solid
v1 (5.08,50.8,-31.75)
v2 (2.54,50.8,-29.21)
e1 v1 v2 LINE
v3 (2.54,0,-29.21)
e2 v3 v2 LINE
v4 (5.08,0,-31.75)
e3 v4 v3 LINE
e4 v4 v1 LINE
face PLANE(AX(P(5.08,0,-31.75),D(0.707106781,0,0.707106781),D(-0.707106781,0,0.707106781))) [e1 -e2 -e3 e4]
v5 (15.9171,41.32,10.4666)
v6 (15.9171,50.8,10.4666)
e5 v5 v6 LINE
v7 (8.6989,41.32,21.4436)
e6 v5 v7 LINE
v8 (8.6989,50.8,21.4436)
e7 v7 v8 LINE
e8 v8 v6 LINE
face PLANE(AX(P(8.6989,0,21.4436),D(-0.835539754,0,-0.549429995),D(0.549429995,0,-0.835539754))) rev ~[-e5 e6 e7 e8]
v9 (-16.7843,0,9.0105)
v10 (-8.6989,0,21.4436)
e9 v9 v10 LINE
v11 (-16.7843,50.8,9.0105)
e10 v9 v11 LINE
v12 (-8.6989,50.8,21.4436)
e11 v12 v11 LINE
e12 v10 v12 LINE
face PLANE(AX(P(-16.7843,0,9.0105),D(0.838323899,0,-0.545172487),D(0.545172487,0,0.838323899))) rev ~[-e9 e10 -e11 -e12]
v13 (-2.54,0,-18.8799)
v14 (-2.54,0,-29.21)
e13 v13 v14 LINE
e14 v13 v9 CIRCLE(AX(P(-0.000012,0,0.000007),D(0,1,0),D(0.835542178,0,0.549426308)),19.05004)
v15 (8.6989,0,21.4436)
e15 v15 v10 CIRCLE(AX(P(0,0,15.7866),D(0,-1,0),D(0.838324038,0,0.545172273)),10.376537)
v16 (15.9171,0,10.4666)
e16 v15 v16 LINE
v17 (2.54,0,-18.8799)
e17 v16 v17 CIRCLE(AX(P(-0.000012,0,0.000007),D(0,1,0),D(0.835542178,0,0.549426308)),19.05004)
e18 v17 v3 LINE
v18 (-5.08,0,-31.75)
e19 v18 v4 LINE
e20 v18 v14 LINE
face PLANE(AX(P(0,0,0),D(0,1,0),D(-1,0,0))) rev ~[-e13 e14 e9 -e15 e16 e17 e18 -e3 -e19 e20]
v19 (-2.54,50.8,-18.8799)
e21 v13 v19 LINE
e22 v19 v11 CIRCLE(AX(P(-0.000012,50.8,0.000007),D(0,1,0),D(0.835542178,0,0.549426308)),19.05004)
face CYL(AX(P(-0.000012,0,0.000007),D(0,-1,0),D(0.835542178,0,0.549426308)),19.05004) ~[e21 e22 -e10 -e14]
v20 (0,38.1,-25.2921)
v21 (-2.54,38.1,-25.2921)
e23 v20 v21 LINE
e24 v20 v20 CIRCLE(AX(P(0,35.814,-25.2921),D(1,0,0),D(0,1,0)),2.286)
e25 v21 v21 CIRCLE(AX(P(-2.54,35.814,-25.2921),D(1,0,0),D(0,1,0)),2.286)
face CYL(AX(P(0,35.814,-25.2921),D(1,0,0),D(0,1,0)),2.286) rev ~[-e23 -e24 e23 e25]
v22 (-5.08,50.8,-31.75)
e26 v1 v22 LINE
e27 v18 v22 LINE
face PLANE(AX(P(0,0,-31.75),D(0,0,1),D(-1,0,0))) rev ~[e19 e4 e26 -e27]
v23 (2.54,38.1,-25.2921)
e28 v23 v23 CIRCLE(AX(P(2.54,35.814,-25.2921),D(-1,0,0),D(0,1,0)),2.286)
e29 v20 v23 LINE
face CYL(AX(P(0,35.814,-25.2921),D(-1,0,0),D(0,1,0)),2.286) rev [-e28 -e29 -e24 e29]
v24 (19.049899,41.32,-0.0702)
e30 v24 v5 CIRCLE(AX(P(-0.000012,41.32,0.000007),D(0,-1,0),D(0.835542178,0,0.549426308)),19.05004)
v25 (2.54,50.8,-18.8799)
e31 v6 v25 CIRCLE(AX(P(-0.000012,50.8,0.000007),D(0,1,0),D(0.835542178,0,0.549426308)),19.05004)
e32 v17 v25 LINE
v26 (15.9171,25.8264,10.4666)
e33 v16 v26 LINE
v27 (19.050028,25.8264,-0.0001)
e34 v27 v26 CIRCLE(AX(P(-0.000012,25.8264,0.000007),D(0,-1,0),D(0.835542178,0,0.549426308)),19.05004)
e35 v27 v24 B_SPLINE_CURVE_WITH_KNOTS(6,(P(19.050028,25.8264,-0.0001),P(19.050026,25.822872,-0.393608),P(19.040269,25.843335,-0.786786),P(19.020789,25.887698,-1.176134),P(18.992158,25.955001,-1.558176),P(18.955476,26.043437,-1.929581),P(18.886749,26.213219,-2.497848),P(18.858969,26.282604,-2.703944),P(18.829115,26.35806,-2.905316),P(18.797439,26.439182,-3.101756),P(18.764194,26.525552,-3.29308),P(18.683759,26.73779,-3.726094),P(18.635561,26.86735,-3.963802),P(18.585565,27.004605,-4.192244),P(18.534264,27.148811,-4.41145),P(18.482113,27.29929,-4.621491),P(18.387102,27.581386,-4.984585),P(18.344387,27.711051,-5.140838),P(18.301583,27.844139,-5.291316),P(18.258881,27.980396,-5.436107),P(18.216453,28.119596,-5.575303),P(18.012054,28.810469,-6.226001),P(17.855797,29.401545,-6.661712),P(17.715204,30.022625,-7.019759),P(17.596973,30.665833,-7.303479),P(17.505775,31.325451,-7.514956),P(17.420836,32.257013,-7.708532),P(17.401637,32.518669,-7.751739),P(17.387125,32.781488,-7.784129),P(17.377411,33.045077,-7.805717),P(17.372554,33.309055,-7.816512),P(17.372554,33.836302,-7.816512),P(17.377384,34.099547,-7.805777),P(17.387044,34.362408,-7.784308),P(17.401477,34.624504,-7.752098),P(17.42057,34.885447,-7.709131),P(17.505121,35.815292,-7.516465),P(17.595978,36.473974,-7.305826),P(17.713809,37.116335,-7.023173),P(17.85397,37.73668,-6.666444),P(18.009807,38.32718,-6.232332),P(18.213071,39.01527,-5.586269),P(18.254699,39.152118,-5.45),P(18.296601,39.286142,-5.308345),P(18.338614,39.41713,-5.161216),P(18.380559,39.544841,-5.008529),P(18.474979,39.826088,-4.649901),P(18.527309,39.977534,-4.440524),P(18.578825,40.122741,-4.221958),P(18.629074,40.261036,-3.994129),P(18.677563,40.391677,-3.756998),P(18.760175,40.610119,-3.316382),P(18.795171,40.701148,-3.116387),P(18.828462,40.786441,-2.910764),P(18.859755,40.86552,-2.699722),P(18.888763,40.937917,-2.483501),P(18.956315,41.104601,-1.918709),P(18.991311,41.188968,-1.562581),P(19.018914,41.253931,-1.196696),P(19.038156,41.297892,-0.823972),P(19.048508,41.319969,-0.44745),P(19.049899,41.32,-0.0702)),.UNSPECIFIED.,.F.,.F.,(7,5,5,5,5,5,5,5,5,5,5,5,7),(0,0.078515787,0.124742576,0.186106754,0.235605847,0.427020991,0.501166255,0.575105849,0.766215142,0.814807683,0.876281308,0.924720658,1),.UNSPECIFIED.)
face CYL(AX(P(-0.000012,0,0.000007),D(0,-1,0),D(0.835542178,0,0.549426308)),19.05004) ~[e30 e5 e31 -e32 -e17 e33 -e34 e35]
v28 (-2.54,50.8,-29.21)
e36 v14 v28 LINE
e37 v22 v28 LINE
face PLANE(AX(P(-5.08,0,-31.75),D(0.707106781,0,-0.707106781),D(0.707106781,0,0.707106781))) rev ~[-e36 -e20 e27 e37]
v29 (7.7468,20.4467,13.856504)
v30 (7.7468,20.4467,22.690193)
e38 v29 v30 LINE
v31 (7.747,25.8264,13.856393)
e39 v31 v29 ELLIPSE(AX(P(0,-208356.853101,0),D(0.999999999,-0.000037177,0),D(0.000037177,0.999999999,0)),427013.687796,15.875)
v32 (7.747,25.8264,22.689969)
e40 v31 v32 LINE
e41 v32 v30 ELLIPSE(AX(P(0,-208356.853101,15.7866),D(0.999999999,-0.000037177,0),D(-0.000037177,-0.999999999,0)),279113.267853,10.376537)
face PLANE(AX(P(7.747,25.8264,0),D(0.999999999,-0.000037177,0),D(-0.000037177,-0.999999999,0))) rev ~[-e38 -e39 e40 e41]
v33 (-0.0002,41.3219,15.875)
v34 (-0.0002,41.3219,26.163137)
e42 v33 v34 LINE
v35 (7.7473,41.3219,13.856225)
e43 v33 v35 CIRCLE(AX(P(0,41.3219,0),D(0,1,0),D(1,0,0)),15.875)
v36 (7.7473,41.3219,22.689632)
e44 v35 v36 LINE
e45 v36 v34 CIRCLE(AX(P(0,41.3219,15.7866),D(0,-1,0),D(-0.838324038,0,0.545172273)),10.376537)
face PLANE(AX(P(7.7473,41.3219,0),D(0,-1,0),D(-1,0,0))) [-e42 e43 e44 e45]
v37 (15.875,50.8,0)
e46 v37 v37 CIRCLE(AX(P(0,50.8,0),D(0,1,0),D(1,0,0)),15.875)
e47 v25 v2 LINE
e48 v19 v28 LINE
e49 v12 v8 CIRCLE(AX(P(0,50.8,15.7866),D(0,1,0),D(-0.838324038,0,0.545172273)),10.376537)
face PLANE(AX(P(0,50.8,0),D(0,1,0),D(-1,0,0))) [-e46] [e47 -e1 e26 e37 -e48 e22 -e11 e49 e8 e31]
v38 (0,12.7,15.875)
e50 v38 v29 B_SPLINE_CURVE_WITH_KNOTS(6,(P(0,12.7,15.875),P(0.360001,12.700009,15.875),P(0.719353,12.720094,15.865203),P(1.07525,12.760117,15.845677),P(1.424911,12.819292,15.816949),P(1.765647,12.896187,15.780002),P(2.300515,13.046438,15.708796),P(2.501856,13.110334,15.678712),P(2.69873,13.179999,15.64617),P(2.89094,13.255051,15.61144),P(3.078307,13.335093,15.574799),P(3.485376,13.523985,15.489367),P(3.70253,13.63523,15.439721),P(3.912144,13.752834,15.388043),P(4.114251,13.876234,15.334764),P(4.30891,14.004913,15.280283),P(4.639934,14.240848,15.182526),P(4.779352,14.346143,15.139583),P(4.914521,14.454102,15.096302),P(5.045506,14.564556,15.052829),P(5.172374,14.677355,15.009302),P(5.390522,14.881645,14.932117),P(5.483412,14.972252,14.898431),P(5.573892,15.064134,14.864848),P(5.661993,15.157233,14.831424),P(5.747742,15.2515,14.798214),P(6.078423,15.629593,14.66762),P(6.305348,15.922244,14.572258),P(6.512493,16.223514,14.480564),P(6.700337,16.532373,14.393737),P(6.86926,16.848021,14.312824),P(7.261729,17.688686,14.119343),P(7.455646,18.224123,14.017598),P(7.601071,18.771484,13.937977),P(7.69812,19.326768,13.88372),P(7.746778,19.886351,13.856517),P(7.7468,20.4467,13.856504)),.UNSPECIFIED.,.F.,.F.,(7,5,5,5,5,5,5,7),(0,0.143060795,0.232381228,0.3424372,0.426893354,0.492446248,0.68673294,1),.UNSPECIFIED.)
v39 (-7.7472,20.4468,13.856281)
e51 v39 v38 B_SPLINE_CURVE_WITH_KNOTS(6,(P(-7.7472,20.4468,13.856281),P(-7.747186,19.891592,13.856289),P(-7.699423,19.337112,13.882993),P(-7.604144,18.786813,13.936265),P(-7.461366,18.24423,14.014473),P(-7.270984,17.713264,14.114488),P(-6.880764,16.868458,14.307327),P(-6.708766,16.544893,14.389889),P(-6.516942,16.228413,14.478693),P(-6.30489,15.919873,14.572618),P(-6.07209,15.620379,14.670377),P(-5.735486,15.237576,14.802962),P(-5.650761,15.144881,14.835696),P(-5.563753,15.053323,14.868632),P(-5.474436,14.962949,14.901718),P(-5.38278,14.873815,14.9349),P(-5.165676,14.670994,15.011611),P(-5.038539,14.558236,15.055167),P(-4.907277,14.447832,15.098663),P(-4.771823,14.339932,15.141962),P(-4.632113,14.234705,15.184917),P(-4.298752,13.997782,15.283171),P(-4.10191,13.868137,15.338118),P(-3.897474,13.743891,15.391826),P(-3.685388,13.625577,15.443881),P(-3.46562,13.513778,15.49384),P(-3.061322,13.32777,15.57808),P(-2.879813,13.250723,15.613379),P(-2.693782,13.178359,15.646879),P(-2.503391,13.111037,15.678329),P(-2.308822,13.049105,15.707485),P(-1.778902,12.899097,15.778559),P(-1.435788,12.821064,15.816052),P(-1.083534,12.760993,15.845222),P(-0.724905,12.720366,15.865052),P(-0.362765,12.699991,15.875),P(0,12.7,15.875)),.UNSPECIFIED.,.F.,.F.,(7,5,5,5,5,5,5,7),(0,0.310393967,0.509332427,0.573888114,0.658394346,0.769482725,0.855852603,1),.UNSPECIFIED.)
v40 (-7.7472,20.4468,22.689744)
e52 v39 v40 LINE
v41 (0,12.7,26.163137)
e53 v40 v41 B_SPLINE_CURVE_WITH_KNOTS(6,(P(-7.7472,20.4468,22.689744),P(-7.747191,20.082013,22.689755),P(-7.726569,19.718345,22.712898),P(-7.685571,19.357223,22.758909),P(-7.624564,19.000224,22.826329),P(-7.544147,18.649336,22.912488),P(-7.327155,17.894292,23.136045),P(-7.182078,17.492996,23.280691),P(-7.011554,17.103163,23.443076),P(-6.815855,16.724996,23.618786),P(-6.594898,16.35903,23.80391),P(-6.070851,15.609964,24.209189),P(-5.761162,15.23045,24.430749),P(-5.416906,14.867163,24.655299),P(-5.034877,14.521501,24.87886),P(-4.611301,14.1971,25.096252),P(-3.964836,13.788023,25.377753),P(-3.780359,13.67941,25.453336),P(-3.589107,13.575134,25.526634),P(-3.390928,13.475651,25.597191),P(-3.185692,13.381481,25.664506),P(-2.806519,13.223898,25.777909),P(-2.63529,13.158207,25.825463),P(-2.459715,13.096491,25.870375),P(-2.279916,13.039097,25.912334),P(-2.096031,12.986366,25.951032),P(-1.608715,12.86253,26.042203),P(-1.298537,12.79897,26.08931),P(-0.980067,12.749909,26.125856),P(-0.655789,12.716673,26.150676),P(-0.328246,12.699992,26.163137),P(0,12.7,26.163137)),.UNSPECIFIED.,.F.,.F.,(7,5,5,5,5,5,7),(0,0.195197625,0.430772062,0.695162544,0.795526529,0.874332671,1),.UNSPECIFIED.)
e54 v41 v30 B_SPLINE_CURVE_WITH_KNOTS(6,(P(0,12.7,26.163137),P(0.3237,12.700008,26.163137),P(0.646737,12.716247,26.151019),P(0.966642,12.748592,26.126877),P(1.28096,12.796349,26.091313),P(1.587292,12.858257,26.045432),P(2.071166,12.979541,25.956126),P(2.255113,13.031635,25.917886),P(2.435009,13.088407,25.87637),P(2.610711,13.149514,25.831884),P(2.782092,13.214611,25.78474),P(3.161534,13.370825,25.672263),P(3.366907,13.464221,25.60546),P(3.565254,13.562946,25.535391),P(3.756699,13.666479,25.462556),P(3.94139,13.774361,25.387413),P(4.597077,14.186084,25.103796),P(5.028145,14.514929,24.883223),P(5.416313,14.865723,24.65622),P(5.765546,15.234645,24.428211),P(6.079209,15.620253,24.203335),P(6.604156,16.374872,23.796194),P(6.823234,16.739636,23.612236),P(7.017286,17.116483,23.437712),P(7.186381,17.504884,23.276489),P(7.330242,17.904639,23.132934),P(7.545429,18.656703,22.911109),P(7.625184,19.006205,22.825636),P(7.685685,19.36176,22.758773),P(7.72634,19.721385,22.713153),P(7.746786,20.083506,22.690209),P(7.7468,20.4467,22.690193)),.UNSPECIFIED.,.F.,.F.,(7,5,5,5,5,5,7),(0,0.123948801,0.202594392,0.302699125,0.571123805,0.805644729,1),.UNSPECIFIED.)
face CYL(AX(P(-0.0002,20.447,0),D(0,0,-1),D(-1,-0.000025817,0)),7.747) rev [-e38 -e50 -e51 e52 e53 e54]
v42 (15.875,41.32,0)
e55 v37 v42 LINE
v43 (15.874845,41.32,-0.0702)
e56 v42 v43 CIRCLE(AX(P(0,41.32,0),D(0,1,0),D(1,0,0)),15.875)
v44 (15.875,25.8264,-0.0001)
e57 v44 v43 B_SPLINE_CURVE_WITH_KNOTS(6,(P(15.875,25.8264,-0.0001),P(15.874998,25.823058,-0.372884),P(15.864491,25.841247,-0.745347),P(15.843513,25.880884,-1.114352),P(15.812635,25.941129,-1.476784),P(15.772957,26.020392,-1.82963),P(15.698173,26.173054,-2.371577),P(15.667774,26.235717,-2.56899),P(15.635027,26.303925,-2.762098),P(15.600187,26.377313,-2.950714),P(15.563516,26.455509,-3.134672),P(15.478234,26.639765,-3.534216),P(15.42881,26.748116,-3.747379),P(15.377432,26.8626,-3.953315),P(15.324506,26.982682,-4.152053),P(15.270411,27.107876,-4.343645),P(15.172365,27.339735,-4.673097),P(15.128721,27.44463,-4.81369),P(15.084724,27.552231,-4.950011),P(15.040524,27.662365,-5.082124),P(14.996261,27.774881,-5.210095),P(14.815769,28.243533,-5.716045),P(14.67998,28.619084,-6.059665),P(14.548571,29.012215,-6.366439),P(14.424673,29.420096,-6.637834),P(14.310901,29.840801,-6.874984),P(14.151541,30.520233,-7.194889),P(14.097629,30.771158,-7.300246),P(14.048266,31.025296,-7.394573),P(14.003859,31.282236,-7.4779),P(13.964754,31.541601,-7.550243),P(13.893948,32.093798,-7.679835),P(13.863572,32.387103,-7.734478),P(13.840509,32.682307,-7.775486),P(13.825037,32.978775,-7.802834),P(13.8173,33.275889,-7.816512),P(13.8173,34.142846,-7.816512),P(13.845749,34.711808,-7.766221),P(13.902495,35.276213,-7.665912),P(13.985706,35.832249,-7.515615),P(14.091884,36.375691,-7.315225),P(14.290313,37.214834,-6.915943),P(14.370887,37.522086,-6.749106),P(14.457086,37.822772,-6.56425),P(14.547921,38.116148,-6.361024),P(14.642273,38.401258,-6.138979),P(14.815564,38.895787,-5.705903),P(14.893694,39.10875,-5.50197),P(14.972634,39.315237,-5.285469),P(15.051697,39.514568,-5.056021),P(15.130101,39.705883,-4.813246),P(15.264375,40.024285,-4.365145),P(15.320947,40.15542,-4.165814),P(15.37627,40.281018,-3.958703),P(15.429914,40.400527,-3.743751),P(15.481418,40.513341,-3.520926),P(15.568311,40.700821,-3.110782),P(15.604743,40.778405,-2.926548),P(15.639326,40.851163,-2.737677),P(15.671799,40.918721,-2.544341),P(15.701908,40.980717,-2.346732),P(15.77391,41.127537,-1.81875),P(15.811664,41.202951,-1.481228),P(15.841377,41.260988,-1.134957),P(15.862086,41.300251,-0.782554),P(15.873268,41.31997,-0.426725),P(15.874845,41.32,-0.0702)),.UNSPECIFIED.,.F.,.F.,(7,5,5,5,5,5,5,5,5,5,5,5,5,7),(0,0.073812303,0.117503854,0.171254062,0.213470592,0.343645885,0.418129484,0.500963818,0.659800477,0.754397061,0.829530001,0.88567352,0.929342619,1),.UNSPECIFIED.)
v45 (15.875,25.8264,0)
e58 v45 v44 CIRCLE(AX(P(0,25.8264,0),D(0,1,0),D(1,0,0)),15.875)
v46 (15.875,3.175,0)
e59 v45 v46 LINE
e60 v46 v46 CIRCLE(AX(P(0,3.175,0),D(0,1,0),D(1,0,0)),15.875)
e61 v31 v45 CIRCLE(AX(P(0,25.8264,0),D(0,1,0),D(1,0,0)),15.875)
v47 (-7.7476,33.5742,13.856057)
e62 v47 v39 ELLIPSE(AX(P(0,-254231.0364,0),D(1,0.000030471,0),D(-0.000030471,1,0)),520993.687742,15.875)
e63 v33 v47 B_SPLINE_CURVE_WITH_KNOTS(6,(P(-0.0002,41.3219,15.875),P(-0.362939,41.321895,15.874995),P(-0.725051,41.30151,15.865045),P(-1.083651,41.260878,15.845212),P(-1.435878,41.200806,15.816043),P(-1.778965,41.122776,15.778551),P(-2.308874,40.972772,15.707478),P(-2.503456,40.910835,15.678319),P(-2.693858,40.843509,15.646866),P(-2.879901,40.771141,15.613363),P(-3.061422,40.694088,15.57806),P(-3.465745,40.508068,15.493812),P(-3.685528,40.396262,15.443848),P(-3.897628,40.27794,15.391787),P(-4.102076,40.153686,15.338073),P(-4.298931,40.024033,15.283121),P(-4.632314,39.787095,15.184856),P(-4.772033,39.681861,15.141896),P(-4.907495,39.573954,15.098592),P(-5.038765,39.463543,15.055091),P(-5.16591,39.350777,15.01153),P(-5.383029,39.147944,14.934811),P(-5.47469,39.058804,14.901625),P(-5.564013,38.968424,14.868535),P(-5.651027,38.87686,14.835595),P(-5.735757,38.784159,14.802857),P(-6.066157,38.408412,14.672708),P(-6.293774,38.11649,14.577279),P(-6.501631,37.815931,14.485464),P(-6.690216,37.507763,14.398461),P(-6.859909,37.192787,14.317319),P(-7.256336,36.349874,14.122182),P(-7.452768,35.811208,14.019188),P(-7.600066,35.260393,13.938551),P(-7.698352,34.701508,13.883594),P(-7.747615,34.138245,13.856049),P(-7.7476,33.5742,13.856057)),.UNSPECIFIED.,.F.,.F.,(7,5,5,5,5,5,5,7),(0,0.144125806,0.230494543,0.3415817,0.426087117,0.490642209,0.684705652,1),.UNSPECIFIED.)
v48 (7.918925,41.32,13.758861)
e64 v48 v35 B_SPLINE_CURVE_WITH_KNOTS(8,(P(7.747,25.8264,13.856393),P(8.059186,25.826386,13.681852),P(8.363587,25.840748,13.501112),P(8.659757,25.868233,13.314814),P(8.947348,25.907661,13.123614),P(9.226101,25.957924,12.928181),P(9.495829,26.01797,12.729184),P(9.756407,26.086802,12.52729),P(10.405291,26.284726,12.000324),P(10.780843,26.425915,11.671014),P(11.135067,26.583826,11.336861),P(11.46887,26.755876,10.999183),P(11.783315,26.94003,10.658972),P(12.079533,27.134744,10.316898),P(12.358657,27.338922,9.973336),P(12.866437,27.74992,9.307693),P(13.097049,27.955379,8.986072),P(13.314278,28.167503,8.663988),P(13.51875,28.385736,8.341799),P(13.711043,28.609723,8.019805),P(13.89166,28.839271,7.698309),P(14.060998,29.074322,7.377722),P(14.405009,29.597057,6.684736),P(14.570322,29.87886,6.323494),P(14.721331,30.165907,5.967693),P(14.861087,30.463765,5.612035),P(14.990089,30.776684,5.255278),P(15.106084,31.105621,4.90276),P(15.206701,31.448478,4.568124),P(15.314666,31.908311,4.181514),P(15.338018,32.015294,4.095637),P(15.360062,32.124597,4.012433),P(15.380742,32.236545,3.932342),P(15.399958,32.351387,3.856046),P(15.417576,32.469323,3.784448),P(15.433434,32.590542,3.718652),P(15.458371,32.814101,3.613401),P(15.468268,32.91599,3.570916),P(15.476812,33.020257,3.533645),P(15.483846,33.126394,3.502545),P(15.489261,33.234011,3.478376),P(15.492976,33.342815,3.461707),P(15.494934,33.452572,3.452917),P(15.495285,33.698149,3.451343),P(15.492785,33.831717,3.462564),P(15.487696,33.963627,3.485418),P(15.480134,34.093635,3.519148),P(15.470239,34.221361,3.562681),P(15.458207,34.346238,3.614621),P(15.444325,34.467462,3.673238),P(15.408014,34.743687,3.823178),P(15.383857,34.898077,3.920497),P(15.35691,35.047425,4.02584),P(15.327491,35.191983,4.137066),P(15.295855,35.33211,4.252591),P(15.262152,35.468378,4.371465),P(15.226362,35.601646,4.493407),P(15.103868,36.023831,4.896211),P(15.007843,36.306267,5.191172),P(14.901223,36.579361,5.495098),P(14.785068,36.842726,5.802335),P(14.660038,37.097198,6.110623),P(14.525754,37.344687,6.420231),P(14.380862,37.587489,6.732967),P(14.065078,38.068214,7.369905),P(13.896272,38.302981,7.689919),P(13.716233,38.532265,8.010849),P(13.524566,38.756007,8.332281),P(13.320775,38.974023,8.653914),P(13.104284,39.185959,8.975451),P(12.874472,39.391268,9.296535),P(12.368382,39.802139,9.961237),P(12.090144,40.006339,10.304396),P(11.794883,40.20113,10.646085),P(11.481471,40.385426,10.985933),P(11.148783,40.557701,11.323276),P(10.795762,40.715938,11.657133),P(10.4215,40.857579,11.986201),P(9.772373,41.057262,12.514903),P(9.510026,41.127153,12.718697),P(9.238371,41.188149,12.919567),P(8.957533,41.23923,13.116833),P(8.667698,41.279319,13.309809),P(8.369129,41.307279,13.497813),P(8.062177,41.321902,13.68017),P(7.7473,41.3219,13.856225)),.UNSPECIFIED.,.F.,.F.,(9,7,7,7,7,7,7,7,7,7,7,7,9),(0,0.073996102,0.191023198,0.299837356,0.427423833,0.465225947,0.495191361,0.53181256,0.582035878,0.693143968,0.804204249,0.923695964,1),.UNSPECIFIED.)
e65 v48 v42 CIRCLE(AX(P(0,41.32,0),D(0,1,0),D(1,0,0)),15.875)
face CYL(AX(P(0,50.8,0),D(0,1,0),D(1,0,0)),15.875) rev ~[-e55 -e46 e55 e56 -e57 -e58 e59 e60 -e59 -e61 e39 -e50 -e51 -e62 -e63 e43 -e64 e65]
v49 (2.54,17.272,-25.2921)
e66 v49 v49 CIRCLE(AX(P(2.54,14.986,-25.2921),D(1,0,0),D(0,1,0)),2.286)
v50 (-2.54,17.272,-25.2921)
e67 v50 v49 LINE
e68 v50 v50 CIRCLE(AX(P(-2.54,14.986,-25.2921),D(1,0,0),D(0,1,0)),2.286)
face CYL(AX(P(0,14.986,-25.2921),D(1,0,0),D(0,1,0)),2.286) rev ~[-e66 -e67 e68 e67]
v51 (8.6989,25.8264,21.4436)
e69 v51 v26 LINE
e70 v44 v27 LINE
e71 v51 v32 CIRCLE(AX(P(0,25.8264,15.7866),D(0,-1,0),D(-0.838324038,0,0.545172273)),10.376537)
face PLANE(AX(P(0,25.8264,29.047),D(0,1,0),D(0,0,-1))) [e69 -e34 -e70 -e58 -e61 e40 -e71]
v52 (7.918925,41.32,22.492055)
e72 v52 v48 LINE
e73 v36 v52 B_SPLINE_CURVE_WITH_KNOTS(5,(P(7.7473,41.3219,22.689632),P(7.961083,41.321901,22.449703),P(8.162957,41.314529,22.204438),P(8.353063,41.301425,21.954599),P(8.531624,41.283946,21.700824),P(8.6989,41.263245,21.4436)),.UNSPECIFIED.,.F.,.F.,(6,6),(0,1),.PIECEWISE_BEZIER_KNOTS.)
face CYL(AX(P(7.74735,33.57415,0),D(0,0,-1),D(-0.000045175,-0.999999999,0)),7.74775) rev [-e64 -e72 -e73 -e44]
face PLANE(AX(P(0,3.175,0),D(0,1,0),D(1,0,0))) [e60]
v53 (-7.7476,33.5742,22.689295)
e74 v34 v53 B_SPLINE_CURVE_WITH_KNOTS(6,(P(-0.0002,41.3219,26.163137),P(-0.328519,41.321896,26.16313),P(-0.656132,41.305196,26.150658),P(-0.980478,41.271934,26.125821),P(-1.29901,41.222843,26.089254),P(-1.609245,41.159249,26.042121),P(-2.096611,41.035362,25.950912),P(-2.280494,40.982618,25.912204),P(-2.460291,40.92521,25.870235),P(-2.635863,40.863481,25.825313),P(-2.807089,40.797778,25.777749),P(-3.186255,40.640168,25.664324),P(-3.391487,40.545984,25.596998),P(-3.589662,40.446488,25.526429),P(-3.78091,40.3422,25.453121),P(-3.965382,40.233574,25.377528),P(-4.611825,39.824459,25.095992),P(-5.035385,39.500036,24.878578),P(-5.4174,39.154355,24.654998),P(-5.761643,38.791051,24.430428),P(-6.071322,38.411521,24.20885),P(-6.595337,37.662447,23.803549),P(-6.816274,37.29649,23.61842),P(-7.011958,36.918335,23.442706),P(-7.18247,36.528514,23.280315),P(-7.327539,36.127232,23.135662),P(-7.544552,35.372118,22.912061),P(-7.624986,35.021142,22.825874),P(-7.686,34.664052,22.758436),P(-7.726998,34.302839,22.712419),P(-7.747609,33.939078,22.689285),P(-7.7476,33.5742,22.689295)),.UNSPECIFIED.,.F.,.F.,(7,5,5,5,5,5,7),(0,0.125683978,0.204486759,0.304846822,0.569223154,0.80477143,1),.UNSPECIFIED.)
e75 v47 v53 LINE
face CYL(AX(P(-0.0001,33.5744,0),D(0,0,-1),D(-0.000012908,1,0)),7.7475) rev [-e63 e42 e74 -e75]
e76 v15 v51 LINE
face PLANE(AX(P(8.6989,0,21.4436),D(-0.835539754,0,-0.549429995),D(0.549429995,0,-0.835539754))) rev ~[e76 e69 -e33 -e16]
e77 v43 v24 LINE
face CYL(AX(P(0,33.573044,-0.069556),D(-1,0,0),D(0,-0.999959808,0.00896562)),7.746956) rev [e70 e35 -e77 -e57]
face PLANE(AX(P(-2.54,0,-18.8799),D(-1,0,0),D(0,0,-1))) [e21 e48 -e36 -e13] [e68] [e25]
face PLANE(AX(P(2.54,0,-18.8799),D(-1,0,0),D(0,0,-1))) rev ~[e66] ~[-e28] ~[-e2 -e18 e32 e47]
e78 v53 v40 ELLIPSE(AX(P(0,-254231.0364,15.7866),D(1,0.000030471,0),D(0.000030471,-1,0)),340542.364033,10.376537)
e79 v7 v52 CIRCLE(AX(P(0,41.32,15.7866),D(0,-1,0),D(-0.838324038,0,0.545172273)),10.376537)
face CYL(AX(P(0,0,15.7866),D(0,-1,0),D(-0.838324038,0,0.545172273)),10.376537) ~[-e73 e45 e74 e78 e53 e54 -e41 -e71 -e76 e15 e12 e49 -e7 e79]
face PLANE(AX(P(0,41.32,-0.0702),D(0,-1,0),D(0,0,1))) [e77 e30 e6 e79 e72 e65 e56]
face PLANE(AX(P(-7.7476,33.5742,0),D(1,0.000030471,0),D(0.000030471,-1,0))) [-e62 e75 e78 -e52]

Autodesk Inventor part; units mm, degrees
ref_plane "YZ Plane" through (0, 0, 0) normal (1, 0, 0) x (0, 1, 0)
ref_plane "XZ Plane" through (0, 0, 0) normal (0, 1, 0) x (-1, 0, 0)
ref_plane "XY Plane" through (0, 0, 0) normal (0, 0, 1) x (1, 0, 0)
sketch "Sketch1" plane through (0, 0, 0) normal (0, 1, 0) x (-1, 0, 0)
  line L0 (0, 0) -> (0, 28.1143)
  line L1 (16.7843, 9.0105) -> (8.6989, 21.4436)
  line L2 (-8.6989, 21.4436) -> (-15.9171, 10.4666)
  arc A0 (-15.9171, 10.4666) -> (15.0435, 11.6875) centre (0, 0) ccw
  arc A1 (8.6989, 21.4436) -> (-8.6989, 21.4436) centre (0, 15.7866) ccw
extrude "Extrusion1" add sketch "Sketch1" along normal blind 50.8 contours A0 L2 A1 L1
sketch "Sketch2" plane through (0, 50.8, 0) normal (0, 1, 0) x (1, 0, 0)
  circle A0 centre (0, 0) radius 15.875
  dimension "d3" = 31.75
extrude "Extrusion2" cut sketch "Sketch2" against normal blind 47.625
sketch "Sketch3" plane through (0, 0, 0) normal (0, 0, 1) x (1, 0, 0)
  line L0 (0, 0) -> (0, 12.7)
  line L1 (-7.7476, 33.5742) -> (-7.7472, 20.4468)
  line L2 (7.7474, 33.5741) -> (7.7474, 33.574)
  line L3 (7.747, 25.8264) -> (7.7468, 20.4467)
  line L4 (7.7473, 41.3219) -> (-0.0002, 41.3219)
  arc A0 (0, 41.3219) -> (-7.7476, 33.5742) centre (-0.0001, 33.5744) ccw
  arc A1 (-7.7472, 20.4468) -> (7.7468, 20.4467) centre (-0.0002, 20.447) ccw
  arc A2 (7.747, 25.8264) -> (7.7473, 41.3219) centre (7.7474, 33.5741) ccw
  dimension "d6" = 12.7
extrude "Extrusion3" cut sketch "Sketch3" along normal blind 44.45
sketch "Sketch4" plane through (0, 0, 0) normal (1, 0, 0) x (0, 1, 0)
  arc A0 (25.8264, -0.0001) -> (41.32, -0.0702) centre (33.573, -0.0696) ccw
  line L0 (41.32, -0.0702) -> (41.32, 29.3277)
  line L1 (41.32, 29.3277) -> (25.8264, 29.047)
  line L2 (25.8264, 29.047) -> (25.8264, -0.0001)
  point P0 (0, 0)
  point P1 (25.8264, 17.4036)
extrude "Extrusion4" cut sketch "Sketch4" along normal blind 44.45
sketch "Sketch5" plane through (0, 0, 0) normal (0, -1, 0) x (1, 0, 0)
  arc A0 (-16.7843, 9.0105) -> (15.9171, 10.4666) centre (0, 0) ccw projected
  line L0 (0, -19.05) -> (0, -31.75)
  line L1 (2.54, -18.8799) -> (2.54, -29.21)
  line L2 (-2.54, -18.8799) -> (-2.54, -29.21)
  line L3 (5.08, -31.75) -> (2.54, -29.21)
  line L4 (-5.08, -31.75) -> (-2.54, -29.21)
  line L5 (5.08, -31.75) -> (-5.08, -31.75)
  arc A1 (-2.54, -18.8799) -> (2.54, -18.8799) centre (0, 0.0817) ccw
  dimension "d13" = 12.7
  dimension "d14" = 5.08
  dimension "d27" = 10.16
extrude "Extrusion5" add sketch "Sketch5" against normal blind 50.8
sketch "Sketch6" plane through (0, 0, 0) normal (1, 0, 0) x (0, 1, 0)
  line L0 (0, -31.75) -> (50.8, -31.75) projected
  circle A0 centre (35.814, -25.2921) radius 2.286
  circle A1 centre (14.986, -25.2921) radius 2.286
  line L1 (0, -25.2921) -> (12.7, -25.2921)
  line L2 (38.1, -25.2921) -> (50.8, -25.2921)
  line L3 (50.8, -19.05) -> (50.8, 10.4666) projected
  point P0 (0, 0)
  point P1 (50.8, 9.0105)
  dimension "d19" = 4.572
  dimension "d20" = 4.572
  dimension "d23" = 12.7
  dimension "d24" = 12.7
extrude "Extrusion6" cut sketch "Sketch6" along normal mid plane 44.45
properties part number "bikeLockMountV2part1"
